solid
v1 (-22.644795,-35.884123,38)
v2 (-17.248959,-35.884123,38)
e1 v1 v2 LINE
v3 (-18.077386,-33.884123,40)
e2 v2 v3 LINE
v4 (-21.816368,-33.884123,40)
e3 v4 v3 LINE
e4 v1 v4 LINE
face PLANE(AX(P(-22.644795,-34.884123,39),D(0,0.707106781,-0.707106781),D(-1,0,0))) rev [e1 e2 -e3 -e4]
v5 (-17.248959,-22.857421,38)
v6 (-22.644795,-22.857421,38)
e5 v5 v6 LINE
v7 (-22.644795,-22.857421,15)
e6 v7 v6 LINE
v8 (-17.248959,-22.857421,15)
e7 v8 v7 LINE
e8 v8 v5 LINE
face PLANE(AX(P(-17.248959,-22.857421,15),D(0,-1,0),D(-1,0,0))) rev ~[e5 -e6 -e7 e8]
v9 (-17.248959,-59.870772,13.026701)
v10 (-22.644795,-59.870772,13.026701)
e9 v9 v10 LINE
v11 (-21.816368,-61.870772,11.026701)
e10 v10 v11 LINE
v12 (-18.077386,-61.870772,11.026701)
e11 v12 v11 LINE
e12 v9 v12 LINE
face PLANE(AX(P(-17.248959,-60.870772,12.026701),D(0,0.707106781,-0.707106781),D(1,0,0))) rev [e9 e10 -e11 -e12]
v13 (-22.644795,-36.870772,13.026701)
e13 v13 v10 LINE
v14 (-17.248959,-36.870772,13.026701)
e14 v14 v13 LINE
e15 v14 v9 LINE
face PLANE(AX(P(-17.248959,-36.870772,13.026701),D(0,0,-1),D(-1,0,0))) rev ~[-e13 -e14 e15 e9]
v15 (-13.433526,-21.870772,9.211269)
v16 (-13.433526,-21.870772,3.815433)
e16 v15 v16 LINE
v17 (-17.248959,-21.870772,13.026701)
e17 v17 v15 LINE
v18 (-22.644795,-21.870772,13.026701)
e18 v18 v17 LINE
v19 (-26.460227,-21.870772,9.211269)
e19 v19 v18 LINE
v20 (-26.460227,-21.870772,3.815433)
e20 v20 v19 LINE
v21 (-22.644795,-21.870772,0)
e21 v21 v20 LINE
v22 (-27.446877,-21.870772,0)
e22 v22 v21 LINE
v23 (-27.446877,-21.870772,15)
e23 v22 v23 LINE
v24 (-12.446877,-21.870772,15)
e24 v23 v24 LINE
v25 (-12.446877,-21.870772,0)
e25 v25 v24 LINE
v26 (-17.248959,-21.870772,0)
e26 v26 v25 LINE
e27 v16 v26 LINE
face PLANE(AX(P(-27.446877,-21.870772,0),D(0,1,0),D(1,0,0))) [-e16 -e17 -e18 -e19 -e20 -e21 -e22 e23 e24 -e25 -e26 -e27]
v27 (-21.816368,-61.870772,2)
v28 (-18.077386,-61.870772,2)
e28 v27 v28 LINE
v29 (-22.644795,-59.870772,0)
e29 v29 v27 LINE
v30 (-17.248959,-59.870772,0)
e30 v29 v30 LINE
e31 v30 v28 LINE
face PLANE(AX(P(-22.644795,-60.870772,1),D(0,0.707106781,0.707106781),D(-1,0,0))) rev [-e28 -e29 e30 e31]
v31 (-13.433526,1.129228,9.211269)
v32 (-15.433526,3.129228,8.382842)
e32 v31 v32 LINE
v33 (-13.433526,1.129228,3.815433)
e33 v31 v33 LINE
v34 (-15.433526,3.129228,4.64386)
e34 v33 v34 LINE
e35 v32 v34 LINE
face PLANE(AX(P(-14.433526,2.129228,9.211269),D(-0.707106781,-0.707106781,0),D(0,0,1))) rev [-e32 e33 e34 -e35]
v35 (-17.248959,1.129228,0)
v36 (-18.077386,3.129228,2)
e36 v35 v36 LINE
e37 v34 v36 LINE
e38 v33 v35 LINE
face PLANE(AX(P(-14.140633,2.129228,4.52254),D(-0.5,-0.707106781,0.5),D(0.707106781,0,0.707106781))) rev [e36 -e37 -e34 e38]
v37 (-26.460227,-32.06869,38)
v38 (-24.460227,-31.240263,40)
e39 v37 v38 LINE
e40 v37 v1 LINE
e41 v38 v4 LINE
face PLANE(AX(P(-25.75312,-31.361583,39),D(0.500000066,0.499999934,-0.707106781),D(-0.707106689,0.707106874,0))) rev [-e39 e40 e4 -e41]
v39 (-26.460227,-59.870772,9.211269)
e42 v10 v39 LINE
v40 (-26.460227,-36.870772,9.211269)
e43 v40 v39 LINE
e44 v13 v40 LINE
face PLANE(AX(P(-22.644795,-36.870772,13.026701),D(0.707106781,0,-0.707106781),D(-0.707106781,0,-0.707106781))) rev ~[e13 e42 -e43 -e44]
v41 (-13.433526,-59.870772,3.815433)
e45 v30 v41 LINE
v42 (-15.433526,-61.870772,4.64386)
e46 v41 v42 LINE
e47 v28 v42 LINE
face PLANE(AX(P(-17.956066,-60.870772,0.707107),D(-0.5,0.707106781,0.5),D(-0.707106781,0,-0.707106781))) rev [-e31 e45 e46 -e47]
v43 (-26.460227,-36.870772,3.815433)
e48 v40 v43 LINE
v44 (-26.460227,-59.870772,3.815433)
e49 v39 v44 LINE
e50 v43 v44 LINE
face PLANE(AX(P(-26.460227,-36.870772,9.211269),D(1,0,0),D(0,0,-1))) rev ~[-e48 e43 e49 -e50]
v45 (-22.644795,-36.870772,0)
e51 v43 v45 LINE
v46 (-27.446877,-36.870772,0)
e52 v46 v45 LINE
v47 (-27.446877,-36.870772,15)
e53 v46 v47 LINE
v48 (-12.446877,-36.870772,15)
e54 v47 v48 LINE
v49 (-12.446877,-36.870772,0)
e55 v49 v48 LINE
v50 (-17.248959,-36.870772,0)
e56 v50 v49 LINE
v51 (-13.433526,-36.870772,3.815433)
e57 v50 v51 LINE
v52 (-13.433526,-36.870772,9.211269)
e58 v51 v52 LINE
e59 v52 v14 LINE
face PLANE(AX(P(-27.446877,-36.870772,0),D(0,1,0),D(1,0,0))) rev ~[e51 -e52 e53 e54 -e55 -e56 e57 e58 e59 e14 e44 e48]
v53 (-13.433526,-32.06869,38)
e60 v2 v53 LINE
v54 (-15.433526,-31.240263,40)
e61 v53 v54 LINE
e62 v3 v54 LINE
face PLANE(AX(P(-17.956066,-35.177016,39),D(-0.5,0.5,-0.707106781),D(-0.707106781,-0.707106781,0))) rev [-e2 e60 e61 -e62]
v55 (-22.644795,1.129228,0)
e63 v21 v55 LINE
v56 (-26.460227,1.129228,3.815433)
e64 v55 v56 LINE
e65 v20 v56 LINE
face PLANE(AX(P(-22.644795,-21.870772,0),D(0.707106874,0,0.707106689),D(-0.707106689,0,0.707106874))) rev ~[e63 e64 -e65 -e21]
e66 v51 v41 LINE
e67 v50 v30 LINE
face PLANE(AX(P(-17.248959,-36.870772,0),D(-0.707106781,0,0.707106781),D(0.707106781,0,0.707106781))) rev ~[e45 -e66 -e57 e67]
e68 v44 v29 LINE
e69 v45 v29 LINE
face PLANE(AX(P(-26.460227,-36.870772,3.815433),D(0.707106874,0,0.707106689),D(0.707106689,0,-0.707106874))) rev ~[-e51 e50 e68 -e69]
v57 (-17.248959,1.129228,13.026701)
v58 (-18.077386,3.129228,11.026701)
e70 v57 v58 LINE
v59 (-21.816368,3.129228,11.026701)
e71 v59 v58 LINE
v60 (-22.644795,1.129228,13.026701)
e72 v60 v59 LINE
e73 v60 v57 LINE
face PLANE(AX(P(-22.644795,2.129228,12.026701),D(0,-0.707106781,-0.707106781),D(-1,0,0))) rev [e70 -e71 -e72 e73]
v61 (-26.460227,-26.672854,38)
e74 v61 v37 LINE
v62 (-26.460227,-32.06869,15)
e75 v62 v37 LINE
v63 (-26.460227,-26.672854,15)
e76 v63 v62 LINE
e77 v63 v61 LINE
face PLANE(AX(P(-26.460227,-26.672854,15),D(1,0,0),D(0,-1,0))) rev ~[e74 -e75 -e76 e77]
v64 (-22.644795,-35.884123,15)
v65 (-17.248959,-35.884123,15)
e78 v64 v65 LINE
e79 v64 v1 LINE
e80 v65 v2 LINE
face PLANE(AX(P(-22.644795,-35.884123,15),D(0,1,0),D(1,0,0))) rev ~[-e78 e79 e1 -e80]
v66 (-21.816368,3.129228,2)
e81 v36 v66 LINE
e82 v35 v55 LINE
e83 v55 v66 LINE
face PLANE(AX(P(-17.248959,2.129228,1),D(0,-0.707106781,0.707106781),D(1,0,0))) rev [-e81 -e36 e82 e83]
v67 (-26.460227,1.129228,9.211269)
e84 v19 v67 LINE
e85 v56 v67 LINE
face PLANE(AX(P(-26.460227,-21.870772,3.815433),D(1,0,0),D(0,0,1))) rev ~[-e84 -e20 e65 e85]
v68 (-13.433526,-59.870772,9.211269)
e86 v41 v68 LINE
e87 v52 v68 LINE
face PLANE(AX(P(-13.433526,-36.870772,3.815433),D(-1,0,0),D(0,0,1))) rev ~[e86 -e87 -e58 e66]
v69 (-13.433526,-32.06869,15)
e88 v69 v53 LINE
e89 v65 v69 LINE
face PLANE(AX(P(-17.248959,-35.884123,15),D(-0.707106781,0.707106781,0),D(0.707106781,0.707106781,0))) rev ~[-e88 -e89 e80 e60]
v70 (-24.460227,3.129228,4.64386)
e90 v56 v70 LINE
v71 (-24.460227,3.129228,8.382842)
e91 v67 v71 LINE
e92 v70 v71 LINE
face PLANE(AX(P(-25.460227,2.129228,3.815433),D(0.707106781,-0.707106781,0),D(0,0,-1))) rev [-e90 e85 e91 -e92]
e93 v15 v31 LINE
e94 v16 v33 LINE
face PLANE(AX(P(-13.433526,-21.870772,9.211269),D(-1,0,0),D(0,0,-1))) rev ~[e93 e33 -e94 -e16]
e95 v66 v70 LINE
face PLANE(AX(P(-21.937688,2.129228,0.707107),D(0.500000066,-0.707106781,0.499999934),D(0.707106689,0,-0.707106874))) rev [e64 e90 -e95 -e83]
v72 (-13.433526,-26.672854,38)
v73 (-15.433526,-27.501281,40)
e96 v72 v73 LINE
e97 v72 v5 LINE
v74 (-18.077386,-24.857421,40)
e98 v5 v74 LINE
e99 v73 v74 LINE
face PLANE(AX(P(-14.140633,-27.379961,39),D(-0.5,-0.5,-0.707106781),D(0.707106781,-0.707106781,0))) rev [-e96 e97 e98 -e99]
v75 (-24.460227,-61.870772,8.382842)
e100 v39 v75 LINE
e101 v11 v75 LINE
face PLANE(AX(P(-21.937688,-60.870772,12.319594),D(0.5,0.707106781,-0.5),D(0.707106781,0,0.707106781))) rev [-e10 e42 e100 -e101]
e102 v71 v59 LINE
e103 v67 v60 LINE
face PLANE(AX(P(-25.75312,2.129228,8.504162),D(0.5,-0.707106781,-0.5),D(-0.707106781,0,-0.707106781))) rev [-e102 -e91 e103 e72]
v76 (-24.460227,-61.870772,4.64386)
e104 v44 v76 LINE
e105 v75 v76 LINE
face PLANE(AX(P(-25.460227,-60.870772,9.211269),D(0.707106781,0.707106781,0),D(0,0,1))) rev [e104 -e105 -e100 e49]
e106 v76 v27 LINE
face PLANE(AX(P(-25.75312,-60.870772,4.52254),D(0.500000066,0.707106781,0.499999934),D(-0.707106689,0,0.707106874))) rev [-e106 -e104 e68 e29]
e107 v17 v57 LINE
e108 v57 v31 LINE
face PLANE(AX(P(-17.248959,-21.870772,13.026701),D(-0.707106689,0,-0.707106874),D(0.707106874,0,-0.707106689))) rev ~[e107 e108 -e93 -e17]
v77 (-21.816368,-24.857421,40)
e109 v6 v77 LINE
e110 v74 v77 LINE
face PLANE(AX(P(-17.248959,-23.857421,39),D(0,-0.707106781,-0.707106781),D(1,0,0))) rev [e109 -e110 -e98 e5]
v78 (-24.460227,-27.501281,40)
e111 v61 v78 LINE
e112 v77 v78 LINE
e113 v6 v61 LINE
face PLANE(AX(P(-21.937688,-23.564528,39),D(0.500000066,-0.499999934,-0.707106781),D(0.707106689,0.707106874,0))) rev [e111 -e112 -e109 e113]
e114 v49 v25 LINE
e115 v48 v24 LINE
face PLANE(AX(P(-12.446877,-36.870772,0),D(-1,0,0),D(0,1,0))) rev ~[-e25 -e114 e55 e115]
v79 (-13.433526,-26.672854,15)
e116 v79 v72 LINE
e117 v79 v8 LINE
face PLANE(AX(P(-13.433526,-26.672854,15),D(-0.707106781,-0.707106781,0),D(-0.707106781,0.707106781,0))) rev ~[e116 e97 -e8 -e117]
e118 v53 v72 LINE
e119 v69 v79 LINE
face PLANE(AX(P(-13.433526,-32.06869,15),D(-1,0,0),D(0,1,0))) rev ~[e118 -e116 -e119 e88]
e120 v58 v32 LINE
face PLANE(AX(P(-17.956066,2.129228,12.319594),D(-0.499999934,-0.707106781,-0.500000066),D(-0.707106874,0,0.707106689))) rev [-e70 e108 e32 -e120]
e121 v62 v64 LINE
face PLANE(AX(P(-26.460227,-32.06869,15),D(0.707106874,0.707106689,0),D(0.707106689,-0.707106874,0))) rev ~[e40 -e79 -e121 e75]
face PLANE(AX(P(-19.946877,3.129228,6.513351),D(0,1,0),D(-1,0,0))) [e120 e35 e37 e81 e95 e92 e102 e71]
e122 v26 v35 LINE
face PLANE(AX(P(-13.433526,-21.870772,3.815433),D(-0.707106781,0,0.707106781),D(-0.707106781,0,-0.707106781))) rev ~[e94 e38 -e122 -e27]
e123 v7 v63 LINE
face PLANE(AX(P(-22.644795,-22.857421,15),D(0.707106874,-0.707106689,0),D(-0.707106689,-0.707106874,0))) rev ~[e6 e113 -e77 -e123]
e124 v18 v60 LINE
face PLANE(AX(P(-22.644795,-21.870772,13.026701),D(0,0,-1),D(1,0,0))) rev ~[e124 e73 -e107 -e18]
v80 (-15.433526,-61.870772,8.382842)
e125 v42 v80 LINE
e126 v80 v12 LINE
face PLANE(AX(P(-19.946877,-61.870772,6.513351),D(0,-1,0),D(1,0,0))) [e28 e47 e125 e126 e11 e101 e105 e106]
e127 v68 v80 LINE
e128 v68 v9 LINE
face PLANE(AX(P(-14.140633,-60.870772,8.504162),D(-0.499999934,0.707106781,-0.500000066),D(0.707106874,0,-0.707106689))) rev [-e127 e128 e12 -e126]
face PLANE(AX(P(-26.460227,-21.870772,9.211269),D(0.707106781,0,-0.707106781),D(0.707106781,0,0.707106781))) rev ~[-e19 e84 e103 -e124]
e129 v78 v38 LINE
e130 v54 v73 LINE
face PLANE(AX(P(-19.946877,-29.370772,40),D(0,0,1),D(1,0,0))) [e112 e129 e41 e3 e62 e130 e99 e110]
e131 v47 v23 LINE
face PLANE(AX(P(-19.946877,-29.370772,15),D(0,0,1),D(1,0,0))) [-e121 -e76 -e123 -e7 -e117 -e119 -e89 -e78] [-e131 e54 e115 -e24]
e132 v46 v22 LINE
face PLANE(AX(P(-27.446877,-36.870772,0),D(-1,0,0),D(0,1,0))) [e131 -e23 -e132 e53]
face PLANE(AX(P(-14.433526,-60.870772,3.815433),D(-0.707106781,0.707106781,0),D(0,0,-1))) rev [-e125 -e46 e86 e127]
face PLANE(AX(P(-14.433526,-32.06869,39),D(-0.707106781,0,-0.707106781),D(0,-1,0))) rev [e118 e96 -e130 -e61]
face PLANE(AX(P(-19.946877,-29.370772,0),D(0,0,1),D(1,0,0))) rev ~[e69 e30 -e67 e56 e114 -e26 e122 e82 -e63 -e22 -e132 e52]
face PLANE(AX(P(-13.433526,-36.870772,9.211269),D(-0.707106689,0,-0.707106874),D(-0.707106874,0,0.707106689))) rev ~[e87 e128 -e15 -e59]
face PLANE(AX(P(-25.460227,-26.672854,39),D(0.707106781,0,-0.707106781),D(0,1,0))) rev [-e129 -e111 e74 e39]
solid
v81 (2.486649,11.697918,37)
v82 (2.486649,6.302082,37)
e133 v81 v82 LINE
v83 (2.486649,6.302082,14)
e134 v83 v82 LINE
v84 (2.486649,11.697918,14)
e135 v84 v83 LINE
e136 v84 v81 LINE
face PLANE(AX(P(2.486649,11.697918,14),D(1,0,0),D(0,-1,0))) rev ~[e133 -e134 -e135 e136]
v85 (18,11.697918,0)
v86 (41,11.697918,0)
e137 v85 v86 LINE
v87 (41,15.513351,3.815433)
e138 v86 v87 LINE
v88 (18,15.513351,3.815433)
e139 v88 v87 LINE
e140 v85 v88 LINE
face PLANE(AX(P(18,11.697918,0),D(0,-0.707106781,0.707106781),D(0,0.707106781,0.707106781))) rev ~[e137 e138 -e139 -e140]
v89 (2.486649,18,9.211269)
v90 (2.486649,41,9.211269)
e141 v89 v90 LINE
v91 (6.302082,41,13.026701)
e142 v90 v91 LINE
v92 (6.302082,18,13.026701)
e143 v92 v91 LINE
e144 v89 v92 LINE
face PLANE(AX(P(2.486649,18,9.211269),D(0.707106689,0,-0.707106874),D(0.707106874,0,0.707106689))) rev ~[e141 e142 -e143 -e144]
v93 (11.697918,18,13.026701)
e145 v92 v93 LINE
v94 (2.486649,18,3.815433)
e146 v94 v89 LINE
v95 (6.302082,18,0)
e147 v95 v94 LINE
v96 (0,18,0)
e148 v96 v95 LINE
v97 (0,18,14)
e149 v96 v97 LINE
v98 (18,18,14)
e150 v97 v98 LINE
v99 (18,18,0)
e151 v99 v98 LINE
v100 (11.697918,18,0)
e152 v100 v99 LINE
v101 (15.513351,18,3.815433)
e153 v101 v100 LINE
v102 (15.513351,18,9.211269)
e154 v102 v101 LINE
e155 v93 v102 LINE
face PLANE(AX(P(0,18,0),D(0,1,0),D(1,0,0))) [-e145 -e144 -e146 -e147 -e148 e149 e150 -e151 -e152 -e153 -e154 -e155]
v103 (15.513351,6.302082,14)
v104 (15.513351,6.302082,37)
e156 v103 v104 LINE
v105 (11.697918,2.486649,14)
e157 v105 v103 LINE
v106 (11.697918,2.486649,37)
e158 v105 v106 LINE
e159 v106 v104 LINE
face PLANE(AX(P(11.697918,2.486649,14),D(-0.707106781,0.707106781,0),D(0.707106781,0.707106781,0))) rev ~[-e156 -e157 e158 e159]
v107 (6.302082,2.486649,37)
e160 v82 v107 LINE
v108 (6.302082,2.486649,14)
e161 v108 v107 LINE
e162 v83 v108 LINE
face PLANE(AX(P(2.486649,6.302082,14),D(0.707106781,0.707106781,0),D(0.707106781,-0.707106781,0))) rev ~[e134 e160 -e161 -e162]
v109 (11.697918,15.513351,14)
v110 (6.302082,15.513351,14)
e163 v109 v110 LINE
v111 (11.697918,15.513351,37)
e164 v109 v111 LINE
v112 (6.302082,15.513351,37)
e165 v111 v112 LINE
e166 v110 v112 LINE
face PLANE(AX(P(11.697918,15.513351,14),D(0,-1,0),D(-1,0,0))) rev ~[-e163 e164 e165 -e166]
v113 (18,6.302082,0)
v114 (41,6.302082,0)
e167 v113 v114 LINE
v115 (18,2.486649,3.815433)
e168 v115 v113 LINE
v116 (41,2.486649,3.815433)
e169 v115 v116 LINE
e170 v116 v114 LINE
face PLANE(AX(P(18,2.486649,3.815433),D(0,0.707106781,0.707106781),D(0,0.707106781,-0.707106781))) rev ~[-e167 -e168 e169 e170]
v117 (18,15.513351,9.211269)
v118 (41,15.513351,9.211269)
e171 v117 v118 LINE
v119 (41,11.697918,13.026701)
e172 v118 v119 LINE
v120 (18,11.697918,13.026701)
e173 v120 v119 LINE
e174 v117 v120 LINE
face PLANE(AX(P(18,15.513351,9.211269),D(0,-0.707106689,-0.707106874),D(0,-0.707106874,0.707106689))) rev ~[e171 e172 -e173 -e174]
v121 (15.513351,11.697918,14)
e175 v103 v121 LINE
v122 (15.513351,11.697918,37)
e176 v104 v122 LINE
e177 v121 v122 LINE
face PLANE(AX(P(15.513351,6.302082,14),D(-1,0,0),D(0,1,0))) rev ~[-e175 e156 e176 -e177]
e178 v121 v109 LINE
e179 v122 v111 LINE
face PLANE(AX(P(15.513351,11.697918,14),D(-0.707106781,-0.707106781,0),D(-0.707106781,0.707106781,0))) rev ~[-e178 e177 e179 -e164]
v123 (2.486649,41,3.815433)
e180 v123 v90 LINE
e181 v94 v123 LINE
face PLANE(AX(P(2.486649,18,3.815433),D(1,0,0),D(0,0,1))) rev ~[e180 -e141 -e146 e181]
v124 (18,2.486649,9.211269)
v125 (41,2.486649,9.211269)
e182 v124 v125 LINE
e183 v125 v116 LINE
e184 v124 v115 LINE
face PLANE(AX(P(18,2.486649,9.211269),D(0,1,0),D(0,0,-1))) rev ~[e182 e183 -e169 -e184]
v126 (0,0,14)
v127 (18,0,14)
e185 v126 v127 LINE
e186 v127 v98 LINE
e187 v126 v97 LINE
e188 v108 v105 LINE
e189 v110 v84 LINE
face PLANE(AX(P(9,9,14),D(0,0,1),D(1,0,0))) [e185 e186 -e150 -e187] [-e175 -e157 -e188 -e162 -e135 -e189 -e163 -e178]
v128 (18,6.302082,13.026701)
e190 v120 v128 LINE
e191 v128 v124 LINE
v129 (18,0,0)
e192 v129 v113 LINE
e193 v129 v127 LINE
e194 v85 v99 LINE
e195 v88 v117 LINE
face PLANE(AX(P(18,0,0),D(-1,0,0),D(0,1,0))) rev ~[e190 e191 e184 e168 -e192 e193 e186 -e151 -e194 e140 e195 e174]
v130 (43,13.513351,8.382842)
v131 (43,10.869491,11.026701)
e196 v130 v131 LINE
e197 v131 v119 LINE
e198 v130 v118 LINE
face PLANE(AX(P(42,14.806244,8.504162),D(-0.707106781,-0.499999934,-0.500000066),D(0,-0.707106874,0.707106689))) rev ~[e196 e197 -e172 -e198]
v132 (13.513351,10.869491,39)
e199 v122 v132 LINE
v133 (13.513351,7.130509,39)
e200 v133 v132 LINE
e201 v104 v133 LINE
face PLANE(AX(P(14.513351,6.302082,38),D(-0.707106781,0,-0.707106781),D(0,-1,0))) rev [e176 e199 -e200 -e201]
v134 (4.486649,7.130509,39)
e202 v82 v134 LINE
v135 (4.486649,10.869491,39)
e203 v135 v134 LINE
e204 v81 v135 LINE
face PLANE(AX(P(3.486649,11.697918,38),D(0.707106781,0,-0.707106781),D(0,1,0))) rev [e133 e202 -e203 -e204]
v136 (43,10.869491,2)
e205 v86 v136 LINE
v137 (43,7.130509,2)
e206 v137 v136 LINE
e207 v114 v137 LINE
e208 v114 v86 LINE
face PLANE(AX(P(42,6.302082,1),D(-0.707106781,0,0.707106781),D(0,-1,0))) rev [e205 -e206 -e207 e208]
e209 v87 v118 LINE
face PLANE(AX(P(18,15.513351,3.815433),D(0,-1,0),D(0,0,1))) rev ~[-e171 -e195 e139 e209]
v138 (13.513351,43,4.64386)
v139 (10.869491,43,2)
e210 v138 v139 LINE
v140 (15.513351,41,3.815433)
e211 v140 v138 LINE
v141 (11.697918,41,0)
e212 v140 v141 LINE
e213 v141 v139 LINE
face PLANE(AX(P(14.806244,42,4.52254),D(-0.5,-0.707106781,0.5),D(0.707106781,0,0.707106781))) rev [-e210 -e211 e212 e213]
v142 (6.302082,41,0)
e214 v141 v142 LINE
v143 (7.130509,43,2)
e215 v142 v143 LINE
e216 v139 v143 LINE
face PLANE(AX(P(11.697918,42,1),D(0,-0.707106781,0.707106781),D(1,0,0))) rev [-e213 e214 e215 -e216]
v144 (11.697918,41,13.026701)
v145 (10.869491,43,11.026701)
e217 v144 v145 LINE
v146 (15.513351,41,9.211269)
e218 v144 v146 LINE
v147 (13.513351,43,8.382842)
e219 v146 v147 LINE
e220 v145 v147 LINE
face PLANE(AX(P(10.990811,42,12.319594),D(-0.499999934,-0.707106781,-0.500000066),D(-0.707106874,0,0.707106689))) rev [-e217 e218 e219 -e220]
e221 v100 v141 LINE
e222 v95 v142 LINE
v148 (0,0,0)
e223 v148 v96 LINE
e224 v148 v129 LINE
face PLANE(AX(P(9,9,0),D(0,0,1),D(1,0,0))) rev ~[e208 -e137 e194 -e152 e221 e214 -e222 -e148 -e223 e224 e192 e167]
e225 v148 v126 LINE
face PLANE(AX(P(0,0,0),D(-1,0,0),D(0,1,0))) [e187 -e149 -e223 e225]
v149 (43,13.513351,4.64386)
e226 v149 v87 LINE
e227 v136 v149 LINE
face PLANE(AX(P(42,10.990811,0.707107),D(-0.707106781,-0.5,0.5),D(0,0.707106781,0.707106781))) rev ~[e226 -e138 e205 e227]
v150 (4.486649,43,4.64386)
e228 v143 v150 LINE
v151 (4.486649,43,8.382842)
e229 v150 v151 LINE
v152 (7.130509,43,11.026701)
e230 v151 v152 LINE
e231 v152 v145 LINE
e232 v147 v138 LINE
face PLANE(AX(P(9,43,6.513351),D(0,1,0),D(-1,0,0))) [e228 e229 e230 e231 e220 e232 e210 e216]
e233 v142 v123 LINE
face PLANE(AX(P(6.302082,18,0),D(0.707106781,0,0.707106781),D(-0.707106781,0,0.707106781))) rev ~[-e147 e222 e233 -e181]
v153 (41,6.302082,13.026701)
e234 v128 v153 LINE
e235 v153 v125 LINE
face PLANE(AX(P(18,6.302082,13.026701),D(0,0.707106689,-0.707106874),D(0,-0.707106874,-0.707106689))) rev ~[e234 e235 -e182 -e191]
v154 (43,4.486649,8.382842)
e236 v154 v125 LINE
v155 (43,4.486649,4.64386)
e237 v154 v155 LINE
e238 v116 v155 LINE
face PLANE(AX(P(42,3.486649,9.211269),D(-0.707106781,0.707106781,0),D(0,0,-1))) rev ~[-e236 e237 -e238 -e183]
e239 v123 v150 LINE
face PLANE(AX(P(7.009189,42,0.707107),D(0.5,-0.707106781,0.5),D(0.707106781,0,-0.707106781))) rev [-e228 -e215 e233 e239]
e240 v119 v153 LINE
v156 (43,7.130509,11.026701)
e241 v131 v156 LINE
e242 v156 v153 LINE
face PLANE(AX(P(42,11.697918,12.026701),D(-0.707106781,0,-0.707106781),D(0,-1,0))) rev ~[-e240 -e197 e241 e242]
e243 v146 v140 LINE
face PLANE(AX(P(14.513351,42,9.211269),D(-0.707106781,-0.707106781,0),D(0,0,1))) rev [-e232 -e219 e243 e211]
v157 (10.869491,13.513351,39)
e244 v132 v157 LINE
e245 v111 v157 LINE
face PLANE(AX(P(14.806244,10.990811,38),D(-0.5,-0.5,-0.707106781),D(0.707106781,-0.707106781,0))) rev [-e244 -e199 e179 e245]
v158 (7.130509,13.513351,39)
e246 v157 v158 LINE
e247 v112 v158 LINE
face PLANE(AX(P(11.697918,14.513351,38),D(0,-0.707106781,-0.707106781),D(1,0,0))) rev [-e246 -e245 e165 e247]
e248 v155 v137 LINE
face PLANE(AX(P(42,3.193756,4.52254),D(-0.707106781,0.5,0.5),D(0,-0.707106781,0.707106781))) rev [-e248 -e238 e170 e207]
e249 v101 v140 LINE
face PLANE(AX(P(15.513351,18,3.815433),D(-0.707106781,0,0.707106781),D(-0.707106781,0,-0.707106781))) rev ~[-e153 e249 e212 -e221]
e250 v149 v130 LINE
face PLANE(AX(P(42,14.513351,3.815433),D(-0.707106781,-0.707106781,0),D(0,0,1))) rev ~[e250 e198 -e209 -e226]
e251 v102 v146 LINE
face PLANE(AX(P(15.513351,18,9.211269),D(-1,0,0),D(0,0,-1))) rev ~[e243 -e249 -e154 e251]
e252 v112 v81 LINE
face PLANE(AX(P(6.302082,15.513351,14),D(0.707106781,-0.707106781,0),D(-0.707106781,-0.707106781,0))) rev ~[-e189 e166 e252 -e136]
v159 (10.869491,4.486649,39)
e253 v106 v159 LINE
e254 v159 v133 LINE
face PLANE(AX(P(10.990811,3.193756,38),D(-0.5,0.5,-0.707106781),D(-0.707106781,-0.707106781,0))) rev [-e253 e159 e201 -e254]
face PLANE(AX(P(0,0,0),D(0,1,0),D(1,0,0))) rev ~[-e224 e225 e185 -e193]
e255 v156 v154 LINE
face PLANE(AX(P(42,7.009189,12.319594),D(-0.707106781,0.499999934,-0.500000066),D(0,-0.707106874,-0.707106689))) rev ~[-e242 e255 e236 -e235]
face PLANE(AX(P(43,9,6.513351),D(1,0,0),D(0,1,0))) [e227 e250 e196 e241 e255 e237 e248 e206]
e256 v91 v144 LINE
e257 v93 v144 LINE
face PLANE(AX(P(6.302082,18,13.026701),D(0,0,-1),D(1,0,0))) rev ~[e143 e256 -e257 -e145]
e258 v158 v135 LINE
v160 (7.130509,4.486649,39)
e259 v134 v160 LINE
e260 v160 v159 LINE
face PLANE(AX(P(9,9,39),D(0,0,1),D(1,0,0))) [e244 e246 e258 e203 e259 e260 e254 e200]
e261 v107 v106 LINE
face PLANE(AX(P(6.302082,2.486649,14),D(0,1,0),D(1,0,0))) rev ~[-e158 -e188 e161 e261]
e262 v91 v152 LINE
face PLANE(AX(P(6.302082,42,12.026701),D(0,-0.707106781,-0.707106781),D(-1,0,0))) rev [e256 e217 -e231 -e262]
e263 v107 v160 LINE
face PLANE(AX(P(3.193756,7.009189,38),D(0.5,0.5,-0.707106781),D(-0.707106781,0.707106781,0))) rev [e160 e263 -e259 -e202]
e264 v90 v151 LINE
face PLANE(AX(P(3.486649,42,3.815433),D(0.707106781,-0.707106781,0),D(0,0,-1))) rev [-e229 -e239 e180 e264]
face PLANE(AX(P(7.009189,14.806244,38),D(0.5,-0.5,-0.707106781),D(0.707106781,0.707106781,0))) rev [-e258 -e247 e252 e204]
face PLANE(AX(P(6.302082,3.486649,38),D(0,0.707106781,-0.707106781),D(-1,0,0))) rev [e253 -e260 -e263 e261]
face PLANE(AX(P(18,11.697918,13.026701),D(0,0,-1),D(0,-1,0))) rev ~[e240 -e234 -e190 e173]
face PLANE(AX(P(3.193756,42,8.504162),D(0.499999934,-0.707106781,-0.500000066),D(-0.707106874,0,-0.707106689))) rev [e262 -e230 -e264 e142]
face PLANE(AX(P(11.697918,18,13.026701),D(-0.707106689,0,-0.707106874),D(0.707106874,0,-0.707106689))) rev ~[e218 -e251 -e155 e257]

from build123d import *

# Parameters (mm, degrees)
F0_W      = 18
F0_H      = 18
F1_DEPTH  = 14
F5_DEPTH  = 25
F6_DEPTH  = 25
F7_DEPTH  = 25
F8_SIZE   = 2
F9_W      = 15
F9_H      = 15
F10_DEPTH = 15
F14_DEPTH = 25
F15_DEPTH = 25
F16_DEPTH = 25
F17_SIZE  = 2


with BuildPart() as f1:
    # F0 (on Top) → F1 (new body)
    with BuildSketch(Plane.XY):
        with Locations((9, 9)):
            Rectangle(F0_W, F0_H)
    extrude(amount=F1_DEPTH)

    # F2 (on face) → F5 (join)
    with BuildSketch(Plane.YZ.offset(18)):
        Polygon((6.302082, 0), (11.697918, 0), (15.513351, 3.815433), (15.513351, 9.211269), (11.697918, 13.026701), (6.302082, 13.026701), (2.486649, 9.211269), (2.486649, 3.815433), align=None)
    extrude(amount=F5_DEPTH)

    # F3 (on face) → F6 (join)
    with BuildSketch(Plane(origin=(0, 18, 0), x_dir=(-1, 0, 0), z_dir=(0, 1, 0))):
        Polygon((-11.697918, 0), (-6.302082, 0), (-2.486649, 3.815433), (-2.486649, 9.211269), (-6.302082, 13.026701), (-11.697918, 13.026701), (-15.513351, 9.211269), (-15.513351, 3.815433), align=None)
    extrude(amount=F6_DEPTH)

    # F4 (on face) → F7 (join)
    with BuildSketch(Plane.XY.offset(14)):
        Polygon((11.697918, 15.513351), (6.302082, 15.513351), (2.486649, 11.697918), (2.486649, 6.302082), (6.302082, 2.486649), (11.697918, 2.486649), (15.513351, 6.302082), (15.513351, 11.697918), align=None)
    extrude(amount=F7_DEPTH)

    # F8
    f8_edges = [f1.edges().sort_by_distance(p)[0] for p in [
        (9, 15.513351, 39),
        (4.394366, 13.605634, 39),
        (2.486649, 9, 39),
        (4.394366, 4.394366, 39),
        (9, 2.486649, 39),
        (13.605634, 4.394366, 39),
        (15.513351, 9, 39),
        (13.605634, 13.605634, 39),
        (43, 4.394366, 1.907716),
        (43, 9, 0),
        (43, 13.605634, 1.907716),
        (43, 15.513351, 6.513351),
        (43, 13.605634, 11.118985),
        (43, 9, 13.026701),
        (43, 4.394366, 11.118985),
        (43, 2.486649, 6.513351),
        (13.605634, 43, 1.907716),
        (9, 43, 0),
        (4.394366, 43, 1.907716),
        (2.486649, 43, 6.513351),
        (4.394366, 43, 11.118985),
        (9, 43, 13.026701),
        (13.605634, 43, 11.118985),
        (15.513351, 43, 6.513351),
    ]]
    chamfer(f8_edges, length=F8_SIZE)


with BuildPart() as f10:
    # F9 (on Top) → F10 (new body)
    with BuildSketch(Plane.XY):
        with Locations((-19.946877, -29.370772)):
            Rectangle(F9_W, F9_H)
    extrude(amount=F10_DEPTH)

    # F11 (on face) → F14 (join)
    with BuildSketch(Plane.XZ.offset(36.870772)):
        Polygon((-22.644795, 0), (-17.248959, 0), (-13.433526, 3.815433), (-13.433526, 9.211269), (-17.248959, 13.026701), (-22.644795, 13.026701), (-26.460227, 9.211269), (-26.460227, 3.815433), align=None)
    extrude(amount=F14_DEPTH)

    # F12 (on face) → F15 (join)
    with BuildSketch(Plane(origin=(0, -21.870772, 0), x_dir=(-1, 0, 0), z_dir=(0, 1, 0))):
        Polygon((17.248959, 0), (22.644795, 0), (26.460227, 3.815433), (26.460227, 9.211269), (22.644795, 13.026701), (17.248959, 13.026701), (13.433526, 9.211269), (13.433526, 3.815433), align=None)
    extrude(amount=F15_DEPTH)

    # F13 (on face) → F16 (join)
    with BuildSketch(Plane.XY.offset(15)):
        Polygon((-22.644795, -35.884123), (-17.248959, -35.884123), (-13.433526, -32.06869), (-13.433526, -26.672854), (-17.248959, -22.857421), (-22.644795, -22.857421), (-26.460227, -26.672854), (-26.460227, -32.06869), align=None)
    extrude(amount=F16_DEPTH)

    # F17
    f17_edges = [f10.edges().sort_by_distance(p)[0] for p in [
        (-24.552511, -61.870772, 1.907716),
        (-19.946877, -61.870772, 0),
        (-15.341242, -61.870772, 1.907716),
        (-13.433526, -61.870772, 6.513351),
        (-15.341242, -61.870772, 11.118985),
        (-19.946877, -61.870772, 13.026701),
        (-24.552511, -61.870772, 11.118985),
        (-26.460227, -61.870772, 6.513351),
        (-24.552511, -33.976406, 40),
        (-19.946877, -35.884123, 40),
        (-15.341242, -33.976406, 40),
        (-13.433526, -29.370772, 40),
        (-15.341242, -24.765137, 40),
        (-19.946877, -22.857421, 40),
        (-24.552511, -24.765137, 40),
        (-26.460227, -29.370772, 40),
        (-13.433526, 3.129228, 6.513351),
        (-15.341242, 3.129228, 1.907716),
        (-19.946877, 3.129228, 0),
        (-24.552511, 3.129228, 1.907716),
        (-26.460227, 3.129228, 6.513351),
        (-24.552511, 3.129228, 11.118985),
        (-19.946877, 3.129228, 13.026701),
        (-15.341242, 3.129228, 11.118985),
    ]]
    chamfer(f17_edges, length=F17_SIZE)


solid = Compound([f1.part, f10.part])
